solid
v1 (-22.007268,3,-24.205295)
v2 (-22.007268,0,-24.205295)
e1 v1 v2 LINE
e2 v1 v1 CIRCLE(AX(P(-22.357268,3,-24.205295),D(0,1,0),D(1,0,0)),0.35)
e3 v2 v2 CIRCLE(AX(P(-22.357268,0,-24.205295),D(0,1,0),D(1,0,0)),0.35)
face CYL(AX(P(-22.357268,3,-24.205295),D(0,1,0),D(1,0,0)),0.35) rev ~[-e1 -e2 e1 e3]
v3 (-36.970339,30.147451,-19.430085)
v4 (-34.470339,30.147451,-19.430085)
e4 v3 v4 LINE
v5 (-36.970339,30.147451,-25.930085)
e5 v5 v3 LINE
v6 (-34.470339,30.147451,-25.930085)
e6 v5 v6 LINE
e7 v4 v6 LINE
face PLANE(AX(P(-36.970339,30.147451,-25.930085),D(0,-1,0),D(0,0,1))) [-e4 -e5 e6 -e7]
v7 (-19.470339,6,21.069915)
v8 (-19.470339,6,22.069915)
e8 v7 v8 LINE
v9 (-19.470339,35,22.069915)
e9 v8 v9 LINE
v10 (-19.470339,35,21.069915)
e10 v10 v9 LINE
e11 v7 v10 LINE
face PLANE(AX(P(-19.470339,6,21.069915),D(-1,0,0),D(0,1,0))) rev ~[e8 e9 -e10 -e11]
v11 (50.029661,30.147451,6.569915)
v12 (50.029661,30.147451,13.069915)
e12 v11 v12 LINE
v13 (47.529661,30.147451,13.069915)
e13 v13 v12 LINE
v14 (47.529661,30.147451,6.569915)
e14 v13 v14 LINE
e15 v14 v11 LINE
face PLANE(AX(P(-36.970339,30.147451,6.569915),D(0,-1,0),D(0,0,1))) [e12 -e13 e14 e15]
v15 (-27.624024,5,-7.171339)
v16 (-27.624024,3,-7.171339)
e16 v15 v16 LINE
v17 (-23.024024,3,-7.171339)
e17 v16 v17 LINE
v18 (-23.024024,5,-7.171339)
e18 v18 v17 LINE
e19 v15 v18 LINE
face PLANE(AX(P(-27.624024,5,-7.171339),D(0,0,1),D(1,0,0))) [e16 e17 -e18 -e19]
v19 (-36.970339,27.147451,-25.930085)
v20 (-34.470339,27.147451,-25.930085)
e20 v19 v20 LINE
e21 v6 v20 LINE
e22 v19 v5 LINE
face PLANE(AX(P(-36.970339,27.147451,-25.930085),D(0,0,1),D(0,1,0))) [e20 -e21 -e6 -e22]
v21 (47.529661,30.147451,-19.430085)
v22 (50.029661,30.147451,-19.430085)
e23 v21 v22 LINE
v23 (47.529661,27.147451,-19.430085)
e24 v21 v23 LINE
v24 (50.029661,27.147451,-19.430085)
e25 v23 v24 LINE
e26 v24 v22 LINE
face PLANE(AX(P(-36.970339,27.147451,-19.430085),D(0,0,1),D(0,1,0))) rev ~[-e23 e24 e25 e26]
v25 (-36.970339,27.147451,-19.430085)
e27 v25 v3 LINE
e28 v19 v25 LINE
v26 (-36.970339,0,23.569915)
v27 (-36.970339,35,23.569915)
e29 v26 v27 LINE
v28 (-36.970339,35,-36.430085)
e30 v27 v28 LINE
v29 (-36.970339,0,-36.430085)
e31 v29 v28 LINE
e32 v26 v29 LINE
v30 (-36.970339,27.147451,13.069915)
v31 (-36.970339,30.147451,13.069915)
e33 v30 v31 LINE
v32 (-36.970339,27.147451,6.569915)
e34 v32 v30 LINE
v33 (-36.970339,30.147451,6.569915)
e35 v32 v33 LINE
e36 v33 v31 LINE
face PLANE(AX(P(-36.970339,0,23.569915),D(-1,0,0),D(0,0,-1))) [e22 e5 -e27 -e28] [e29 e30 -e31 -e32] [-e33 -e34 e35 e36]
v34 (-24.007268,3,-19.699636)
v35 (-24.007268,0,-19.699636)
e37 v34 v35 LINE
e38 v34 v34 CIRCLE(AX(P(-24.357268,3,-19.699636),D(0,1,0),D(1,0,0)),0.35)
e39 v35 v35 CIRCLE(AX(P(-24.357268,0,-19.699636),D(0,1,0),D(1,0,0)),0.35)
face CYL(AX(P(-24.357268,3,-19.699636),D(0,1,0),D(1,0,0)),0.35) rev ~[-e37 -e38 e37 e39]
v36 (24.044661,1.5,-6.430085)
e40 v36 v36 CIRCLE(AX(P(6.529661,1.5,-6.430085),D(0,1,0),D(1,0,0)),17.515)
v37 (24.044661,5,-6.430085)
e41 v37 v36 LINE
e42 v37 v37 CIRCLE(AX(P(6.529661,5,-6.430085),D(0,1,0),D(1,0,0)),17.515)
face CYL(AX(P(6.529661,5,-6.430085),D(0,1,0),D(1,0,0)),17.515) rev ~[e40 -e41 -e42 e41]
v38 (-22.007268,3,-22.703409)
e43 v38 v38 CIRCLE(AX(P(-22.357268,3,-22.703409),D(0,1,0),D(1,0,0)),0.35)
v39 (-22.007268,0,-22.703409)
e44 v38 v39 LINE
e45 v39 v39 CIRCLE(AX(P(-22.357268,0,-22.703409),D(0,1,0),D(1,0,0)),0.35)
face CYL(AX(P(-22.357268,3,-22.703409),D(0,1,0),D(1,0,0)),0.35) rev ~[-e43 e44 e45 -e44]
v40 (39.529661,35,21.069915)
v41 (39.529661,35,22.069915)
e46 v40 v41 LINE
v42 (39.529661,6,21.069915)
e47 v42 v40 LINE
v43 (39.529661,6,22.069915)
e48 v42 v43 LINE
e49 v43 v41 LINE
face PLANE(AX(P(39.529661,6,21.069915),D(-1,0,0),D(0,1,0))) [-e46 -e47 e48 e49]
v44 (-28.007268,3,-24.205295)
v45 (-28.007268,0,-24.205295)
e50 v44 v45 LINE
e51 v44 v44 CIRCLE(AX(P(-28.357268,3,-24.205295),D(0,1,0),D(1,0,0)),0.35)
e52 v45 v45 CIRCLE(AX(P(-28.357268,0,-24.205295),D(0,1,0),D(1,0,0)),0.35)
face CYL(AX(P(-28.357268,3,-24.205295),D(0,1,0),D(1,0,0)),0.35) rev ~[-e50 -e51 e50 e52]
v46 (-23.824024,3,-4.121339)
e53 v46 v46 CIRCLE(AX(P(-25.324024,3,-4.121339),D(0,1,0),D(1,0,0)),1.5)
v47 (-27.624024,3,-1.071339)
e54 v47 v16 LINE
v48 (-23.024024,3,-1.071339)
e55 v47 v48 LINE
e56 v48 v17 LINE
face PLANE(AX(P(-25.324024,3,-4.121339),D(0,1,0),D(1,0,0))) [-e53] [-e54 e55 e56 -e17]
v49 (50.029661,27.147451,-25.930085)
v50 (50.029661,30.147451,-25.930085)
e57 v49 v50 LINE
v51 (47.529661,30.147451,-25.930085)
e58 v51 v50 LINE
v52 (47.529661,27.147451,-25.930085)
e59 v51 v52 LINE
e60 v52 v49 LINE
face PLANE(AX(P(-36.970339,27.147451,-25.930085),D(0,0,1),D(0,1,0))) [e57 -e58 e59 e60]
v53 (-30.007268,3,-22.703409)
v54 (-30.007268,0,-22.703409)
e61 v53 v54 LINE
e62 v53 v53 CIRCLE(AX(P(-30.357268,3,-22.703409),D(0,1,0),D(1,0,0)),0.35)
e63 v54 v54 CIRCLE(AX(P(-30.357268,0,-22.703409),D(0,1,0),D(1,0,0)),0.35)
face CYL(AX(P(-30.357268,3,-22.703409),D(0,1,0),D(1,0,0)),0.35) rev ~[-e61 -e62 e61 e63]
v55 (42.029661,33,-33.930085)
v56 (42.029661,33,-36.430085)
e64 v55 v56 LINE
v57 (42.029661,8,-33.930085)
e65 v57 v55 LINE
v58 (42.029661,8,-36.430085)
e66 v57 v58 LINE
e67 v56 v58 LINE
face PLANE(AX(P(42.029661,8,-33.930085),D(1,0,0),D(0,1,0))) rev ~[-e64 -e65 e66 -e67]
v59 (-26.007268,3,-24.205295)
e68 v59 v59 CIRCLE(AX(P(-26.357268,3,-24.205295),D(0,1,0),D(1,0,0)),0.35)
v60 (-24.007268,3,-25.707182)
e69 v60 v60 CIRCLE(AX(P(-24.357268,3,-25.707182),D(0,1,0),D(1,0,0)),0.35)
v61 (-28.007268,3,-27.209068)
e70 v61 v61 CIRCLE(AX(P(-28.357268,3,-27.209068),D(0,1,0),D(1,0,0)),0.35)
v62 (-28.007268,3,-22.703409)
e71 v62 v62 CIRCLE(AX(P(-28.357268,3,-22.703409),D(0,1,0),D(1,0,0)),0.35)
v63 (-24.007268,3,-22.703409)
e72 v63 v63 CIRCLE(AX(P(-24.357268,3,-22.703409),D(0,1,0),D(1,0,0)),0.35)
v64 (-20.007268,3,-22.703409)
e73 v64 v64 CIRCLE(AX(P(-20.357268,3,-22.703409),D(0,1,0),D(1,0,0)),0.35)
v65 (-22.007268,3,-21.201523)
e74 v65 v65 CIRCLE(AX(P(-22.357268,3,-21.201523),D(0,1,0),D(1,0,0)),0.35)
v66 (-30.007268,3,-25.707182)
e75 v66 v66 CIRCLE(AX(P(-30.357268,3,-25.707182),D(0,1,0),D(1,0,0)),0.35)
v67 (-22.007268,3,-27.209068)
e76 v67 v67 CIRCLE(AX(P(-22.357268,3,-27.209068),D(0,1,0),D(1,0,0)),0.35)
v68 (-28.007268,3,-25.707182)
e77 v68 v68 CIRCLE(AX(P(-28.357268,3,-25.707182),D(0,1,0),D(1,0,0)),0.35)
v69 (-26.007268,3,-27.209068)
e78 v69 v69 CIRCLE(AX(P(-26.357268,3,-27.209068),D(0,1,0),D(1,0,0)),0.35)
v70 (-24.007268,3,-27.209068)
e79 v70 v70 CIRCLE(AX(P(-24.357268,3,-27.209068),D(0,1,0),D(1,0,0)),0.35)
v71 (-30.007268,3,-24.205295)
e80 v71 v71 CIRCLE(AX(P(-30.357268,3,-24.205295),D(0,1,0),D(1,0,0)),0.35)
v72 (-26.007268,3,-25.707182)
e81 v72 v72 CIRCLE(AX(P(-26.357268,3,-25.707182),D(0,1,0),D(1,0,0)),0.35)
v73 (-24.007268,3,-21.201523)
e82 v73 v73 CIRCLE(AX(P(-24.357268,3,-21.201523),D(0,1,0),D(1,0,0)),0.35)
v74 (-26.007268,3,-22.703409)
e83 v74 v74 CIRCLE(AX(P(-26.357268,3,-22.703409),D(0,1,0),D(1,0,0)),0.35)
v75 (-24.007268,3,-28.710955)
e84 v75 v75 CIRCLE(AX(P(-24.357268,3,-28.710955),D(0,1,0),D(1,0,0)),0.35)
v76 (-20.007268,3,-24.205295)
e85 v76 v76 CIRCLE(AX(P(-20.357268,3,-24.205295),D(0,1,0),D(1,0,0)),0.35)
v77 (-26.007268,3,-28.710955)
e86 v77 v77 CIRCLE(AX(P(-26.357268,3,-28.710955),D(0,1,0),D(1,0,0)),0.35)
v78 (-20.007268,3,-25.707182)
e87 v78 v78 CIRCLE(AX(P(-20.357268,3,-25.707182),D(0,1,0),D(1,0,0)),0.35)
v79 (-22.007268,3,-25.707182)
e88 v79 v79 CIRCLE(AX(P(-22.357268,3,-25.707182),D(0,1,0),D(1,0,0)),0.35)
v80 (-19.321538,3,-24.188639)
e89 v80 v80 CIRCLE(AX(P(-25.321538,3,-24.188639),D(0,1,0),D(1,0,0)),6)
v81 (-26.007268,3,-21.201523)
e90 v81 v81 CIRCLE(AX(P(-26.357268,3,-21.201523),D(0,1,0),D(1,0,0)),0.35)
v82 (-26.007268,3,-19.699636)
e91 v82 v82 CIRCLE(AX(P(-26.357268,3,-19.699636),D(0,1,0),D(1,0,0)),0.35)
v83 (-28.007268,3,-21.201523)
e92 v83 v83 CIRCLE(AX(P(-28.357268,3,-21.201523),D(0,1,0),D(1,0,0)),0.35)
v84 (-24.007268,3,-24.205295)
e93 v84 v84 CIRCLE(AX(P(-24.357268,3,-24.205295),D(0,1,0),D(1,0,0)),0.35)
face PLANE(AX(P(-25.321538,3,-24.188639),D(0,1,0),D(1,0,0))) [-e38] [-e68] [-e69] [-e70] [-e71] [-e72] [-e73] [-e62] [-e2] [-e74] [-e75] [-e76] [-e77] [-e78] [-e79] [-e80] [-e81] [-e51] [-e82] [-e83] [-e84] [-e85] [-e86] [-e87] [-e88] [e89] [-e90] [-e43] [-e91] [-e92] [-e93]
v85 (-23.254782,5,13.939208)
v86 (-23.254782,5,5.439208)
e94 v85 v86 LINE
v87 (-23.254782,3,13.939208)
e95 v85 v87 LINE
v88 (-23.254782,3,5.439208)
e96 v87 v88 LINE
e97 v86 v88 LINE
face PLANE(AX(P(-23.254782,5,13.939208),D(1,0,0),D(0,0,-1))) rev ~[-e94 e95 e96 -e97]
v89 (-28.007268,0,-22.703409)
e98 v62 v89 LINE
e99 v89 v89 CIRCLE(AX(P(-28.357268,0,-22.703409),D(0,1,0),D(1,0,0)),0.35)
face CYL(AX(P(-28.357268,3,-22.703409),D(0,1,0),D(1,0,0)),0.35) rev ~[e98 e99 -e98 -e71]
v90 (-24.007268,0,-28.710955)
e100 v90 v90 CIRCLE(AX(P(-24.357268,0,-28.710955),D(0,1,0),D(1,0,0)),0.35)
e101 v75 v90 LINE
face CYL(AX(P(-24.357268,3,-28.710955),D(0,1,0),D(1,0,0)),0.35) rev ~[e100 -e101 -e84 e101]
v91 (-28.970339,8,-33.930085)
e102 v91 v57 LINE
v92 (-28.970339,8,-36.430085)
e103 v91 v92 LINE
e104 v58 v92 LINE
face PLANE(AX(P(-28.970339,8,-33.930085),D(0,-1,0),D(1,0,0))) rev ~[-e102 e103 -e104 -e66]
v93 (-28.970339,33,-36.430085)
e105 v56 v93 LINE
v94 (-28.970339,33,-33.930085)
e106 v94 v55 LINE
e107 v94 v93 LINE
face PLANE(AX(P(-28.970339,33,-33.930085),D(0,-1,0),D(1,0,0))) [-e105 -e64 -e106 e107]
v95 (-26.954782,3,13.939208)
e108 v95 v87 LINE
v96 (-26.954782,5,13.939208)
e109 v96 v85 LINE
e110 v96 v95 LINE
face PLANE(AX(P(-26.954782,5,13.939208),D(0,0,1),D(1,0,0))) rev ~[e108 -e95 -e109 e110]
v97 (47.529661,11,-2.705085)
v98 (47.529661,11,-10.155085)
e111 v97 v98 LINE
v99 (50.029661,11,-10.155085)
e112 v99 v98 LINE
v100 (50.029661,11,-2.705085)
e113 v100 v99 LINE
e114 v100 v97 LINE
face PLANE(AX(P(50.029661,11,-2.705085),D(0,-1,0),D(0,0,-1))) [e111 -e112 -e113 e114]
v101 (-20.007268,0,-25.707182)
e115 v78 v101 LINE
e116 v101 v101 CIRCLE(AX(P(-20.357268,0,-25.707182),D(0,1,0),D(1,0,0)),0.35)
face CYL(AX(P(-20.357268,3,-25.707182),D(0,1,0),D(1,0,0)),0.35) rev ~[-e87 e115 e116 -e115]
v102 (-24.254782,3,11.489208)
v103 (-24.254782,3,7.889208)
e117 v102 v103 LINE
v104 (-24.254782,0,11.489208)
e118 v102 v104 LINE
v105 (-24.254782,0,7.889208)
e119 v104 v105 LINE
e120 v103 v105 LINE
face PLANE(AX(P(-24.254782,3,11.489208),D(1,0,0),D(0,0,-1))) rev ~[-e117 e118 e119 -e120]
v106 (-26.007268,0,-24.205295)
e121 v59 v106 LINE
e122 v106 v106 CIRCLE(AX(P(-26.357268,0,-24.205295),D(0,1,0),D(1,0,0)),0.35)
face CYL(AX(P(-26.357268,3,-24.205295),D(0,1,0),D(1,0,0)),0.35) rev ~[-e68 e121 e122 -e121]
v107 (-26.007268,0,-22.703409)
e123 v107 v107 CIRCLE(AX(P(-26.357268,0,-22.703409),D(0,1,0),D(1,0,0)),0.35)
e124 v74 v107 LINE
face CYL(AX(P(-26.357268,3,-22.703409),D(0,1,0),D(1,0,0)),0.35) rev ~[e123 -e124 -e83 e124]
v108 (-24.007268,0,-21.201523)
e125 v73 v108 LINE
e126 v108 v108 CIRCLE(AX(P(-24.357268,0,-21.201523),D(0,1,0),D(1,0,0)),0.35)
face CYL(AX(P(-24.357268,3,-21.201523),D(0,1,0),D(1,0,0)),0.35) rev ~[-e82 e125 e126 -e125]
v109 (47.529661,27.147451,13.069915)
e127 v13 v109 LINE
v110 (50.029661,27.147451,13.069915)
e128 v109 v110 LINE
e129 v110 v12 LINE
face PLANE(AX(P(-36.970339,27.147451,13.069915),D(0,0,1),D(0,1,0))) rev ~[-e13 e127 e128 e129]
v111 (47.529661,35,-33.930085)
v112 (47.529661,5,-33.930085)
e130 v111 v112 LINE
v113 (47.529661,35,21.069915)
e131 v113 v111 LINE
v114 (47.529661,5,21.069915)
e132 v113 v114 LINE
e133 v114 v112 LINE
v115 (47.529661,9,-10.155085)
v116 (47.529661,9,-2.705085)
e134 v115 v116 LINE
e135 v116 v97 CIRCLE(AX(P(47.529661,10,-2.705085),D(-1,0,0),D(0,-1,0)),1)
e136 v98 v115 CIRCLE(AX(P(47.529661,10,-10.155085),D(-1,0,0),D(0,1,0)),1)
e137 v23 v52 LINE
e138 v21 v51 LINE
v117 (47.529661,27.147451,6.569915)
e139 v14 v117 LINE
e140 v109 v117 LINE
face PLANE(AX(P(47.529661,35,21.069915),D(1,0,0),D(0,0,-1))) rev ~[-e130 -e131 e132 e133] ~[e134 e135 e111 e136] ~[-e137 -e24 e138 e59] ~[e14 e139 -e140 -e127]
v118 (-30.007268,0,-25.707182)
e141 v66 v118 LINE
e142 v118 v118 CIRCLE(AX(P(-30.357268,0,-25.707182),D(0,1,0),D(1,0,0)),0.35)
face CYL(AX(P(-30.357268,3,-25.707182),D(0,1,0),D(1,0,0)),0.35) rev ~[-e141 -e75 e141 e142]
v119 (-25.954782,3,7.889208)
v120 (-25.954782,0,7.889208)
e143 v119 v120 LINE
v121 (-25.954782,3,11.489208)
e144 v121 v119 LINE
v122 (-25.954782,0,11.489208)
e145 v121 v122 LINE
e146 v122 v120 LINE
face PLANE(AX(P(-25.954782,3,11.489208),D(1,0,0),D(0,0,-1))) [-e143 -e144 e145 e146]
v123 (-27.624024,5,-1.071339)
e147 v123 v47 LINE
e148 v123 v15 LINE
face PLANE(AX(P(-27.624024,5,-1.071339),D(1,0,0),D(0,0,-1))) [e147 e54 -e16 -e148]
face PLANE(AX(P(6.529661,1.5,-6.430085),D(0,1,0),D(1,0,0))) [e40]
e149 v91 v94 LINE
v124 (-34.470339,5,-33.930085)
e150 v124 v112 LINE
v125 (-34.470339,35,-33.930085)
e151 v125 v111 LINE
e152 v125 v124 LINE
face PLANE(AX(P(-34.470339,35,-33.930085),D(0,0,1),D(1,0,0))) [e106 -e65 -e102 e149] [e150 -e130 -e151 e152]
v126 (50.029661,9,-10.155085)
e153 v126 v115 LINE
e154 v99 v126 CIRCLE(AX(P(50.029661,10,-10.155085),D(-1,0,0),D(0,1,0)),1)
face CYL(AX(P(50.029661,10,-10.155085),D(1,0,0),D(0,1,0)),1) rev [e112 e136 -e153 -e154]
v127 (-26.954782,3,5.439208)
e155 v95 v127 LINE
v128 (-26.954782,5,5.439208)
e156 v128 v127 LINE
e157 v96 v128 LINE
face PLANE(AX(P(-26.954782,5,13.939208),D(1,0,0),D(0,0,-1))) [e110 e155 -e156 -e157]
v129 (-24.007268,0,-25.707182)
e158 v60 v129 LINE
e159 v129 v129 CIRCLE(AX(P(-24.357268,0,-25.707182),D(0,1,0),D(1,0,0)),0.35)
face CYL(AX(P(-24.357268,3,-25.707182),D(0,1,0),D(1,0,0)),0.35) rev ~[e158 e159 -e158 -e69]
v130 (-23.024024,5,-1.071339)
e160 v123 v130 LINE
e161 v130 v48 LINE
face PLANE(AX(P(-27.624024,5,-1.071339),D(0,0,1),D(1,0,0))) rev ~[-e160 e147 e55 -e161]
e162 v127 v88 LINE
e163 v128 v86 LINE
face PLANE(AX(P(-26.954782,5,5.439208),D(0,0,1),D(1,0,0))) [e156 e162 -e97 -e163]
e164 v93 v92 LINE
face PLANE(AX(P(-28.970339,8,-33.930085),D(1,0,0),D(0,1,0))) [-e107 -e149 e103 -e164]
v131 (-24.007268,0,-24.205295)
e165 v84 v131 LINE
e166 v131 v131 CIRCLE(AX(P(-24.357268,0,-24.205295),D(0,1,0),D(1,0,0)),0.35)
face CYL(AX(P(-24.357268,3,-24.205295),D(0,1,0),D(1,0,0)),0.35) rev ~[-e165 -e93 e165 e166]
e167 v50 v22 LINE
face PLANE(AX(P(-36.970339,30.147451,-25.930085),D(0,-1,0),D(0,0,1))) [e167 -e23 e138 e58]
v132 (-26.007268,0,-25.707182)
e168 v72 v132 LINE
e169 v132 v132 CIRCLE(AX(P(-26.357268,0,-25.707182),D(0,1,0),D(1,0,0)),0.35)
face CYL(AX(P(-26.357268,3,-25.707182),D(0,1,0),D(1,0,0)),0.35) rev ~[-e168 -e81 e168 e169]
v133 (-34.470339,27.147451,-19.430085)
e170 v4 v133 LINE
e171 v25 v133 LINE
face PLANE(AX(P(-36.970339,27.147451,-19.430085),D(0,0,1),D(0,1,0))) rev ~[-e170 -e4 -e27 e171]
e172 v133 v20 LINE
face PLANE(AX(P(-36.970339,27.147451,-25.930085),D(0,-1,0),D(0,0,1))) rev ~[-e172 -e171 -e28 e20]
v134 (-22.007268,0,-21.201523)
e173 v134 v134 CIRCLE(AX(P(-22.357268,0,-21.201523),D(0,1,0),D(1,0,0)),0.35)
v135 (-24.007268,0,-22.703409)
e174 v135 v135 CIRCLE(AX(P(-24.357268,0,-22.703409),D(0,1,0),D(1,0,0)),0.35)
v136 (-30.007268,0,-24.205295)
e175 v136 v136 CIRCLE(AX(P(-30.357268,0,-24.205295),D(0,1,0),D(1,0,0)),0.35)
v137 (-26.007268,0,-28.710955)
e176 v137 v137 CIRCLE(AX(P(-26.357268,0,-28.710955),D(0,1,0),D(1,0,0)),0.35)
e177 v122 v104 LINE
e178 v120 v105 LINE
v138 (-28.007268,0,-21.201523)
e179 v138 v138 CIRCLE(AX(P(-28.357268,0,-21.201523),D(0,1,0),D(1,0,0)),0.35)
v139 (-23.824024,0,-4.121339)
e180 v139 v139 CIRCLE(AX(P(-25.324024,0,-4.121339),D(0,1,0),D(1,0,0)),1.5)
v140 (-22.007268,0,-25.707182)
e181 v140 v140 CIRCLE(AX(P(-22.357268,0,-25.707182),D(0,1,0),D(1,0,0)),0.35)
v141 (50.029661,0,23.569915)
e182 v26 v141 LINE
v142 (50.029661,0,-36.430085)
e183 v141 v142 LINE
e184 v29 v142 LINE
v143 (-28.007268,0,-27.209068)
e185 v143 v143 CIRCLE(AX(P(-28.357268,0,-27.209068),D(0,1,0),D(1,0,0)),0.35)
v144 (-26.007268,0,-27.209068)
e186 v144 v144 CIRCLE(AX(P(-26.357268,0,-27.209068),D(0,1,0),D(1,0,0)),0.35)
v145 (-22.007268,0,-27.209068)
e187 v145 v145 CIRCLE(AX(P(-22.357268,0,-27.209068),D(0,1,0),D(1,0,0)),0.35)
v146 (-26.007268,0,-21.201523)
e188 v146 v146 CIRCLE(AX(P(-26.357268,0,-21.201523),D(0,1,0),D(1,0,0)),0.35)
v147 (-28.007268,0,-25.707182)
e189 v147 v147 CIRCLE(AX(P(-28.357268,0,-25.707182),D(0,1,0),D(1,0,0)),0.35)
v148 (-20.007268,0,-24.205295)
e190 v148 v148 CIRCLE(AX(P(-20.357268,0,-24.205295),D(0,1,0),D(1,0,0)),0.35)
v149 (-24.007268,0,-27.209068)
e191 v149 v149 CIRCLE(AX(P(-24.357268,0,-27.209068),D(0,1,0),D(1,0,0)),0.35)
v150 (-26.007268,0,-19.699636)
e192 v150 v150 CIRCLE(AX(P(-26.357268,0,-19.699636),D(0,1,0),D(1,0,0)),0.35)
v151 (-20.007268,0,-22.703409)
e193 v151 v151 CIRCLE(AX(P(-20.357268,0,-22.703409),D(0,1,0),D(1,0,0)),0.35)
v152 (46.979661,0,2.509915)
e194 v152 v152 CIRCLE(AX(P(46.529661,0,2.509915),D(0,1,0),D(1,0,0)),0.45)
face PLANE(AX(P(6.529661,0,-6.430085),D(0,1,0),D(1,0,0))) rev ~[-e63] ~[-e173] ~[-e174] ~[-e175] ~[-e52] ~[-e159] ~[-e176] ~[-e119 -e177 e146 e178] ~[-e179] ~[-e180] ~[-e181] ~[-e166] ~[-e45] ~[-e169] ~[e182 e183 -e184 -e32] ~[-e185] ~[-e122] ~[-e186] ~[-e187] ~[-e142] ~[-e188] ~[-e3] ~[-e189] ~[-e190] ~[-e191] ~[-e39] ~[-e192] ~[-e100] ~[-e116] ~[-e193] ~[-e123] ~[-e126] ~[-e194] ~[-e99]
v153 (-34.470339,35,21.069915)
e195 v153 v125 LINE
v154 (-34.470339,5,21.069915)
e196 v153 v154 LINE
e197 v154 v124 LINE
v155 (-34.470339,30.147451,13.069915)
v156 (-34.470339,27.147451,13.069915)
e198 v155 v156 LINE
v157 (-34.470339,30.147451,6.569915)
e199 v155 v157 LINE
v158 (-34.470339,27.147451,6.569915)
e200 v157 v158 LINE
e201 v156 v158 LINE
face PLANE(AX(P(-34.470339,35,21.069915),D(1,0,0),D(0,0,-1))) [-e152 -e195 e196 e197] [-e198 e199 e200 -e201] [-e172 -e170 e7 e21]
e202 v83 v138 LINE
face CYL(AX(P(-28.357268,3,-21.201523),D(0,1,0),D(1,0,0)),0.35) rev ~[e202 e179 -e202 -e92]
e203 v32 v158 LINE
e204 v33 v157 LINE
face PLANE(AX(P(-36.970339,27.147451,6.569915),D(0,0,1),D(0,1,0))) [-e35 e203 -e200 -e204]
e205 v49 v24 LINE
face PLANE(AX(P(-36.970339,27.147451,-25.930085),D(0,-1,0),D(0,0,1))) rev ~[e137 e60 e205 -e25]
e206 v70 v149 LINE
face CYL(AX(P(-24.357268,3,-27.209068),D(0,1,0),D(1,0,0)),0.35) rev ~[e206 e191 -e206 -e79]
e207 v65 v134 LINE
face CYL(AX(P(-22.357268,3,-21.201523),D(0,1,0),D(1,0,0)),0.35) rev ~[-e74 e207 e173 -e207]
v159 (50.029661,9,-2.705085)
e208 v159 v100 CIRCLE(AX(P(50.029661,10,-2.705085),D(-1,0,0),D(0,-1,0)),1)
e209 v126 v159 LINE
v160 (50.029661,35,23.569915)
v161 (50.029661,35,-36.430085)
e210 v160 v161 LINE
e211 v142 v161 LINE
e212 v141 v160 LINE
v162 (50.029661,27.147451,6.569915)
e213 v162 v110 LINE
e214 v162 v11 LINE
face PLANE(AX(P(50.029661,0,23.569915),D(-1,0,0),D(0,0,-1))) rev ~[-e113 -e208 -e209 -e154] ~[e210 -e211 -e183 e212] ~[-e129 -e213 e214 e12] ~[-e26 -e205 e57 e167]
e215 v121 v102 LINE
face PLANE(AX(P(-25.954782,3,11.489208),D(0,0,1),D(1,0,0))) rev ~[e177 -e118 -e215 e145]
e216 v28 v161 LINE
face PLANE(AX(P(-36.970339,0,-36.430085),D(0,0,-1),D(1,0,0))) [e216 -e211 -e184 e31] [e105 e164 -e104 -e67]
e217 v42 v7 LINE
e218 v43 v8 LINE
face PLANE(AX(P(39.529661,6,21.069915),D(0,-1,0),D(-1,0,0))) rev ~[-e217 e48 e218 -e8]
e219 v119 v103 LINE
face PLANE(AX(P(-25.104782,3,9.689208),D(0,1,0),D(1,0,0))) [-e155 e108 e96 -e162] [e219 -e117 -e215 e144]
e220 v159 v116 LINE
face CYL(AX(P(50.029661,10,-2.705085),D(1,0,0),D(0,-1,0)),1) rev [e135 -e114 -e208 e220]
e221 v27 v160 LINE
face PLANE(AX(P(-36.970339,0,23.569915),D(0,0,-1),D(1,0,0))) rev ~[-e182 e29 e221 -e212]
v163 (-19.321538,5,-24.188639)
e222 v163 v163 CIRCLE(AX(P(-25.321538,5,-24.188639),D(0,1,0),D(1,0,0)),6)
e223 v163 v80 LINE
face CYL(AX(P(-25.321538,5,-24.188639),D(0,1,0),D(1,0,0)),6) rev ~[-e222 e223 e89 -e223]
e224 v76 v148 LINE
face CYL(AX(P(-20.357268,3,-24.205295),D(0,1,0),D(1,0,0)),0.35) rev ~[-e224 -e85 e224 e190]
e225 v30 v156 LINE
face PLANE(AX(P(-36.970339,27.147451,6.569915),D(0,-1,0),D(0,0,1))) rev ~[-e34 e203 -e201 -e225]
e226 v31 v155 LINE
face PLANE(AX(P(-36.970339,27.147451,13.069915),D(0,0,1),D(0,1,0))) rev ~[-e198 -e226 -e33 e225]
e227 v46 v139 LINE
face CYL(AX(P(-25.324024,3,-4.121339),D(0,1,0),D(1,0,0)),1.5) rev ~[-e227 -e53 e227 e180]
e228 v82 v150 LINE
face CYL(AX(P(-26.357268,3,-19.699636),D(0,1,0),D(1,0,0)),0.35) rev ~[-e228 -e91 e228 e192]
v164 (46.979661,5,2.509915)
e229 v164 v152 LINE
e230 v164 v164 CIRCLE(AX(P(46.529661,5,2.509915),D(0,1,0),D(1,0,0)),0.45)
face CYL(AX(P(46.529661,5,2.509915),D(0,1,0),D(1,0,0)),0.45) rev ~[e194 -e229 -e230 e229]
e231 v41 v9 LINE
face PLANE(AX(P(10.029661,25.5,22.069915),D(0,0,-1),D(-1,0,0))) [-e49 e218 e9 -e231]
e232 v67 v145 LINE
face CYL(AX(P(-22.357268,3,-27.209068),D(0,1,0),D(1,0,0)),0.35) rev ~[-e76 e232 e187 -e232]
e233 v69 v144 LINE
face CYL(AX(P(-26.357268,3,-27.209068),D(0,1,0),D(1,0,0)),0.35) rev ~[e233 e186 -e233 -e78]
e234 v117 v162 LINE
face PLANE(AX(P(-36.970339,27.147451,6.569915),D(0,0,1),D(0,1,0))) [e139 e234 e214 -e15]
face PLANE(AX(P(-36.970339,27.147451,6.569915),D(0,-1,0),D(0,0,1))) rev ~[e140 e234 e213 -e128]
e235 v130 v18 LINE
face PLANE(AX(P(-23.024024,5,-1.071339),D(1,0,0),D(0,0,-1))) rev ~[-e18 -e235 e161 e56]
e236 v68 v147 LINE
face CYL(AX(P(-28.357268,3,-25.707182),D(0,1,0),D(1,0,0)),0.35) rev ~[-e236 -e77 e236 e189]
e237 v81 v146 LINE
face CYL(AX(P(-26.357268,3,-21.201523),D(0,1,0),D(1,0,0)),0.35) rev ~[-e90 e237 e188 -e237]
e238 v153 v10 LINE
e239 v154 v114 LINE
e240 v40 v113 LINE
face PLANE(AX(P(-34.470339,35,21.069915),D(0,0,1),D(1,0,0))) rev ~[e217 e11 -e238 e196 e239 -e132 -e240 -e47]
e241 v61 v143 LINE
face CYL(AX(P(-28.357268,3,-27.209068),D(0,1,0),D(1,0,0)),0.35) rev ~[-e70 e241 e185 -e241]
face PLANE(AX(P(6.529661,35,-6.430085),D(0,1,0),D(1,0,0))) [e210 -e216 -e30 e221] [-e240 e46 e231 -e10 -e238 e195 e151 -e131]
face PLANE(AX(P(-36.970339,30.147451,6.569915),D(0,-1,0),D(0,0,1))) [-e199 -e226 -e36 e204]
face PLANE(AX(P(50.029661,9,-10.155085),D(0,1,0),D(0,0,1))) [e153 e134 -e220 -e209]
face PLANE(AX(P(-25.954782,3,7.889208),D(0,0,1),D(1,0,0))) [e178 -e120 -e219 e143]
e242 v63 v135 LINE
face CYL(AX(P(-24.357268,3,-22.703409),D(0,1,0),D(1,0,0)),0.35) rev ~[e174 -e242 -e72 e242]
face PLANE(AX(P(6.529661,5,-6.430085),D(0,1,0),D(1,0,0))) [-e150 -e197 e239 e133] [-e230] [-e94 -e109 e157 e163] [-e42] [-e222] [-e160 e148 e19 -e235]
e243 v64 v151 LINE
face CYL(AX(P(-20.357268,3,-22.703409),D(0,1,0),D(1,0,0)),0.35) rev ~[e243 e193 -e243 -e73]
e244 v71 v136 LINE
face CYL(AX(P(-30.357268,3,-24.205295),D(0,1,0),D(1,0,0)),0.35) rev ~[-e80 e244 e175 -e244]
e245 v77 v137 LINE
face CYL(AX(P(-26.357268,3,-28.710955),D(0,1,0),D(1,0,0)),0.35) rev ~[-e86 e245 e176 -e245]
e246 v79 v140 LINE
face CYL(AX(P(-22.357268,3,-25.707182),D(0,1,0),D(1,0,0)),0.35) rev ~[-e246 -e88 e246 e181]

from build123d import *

# Parameters (mm, degrees)
SKETCH1_W               = 87
SKETCH1_H               = 60
HOUSING_DEPTH           = 35
SKETCH4_W               = 82
SKETCH4_H               = 55
HOUSEINTERNALCUT_DEPTH  = 30
SKETCH6_W               = 3.7
SKETCH6_H               = 8.5
SWITCHEXTERNALCUT_DEPTH = 2
SKETCH8_W               = 1.7
SKETCH8_H               = 3.6
SWITCHINTERNALCUT_DEPTH = 4
SKETCH10_R              = 6
BUZZEREXTERNALCUT_DEPTH = 2
SKETCH12_R              = 0.35
BUZZERINTERNALCUT_DEPTH = 4
SKETCH14_W              = 4.6
SKETCH14_H              = 6.1
BUTTONEXTERNALCUT_DEPTH = 2
SKETCH16_R              = 1.5
BUTTONINTERNALCUT_DEPTH = 4
SKETCH29_R              = 17.515
WICHARGECUT_DEPTH       = 3.5
SKETCH30_W              = 59
SKETCH30_H              = 39
RFIDMODULECUT_DEPTH     = 1
SKETCH32_W              = 71
SKETCH32_H              = 25
DISPLAYCUT_DEPTH        = 3.5
MICROUSBCUT_DEPTH       = 2.5
SKETCH34_W              = 6.5
SKETCH34_H              = 3
CLIPSCUT_DEPTH          = 88
SKETCH35_R              = 0.45
RESETCUT_DEPTH          = 6


with BuildPart() as part:
    # Sketch1 → Housing (new body)
    with BuildSketch(Plane(origin=(0, 0, 0), x_dir=(1, 0, 0), z_dir=(0, 1, 0))):
        with Locations((6.529661017, 6.430084746)):
            Rectangle(SKETCH1_W, SKETCH1_H)
    extrude(amount=HOUSING_DEPTH)

    # Sketch4 → HouseInternalCut (cut)
    with BuildSketch(Plane(origin=(0, 35, 0), x_dir=(1, 0, 0), z_dir=(0, 1, 0))):
        with Locations((6.529661017, 6.430084746)):
            Rectangle(SKETCH4_W, SKETCH4_H)
    extrude(amount=-HOUSEINTERNALCUT_DEPTH, mode=Mode.SUBTRACT)

    # Sketch6 → SwitchExternalCut (cut)
    with BuildSketch(Plane(origin=(-29.459679841, 5, 17.678662656), x_dir=(1, 0, 0), z_dir=(0, 1, 0))):
        with Locations((4.354897879, 7.989454328)):
            Rectangle(SKETCH6_W, SKETCH6_H)
    extrude(amount=-SWITCHEXTERNALCUT_DEPTH, mode=Mode.SUBTRACT)

    # Sketch8 → SwitchInternalCut (cut, through all)
    with BuildSketch(Plane(origin=(-29.459679841, 3, 17.678662656), x_dir=(1, 0, 0), z_dir=(0, 1, 0))):
        with Locations((4.354897879, 7.989454328)):
            Rectangle(SKETCH8_W, SKETCH8_H)
    extrude(amount=-SWITCHINTERNALCUT_DEPTH, mode=Mode.SUBTRACT)

    # Sketch10 → BuzzerExternalCut (cut)
    with BuildSketch(Plane(origin=(-0.314920006, 5, -24.188639302), x_dir=(1, 0, 0), z_dir=(0, 1, 0))):
        with Locations((-25.006618322, 0)):
            Circle(SKETCH10_R)
    extrude(amount=-BUZZEREXTERNALCUT_DEPTH, mode=Mode.SUBTRACT)

    # Sketch12 → BuzzerInternalCut (cut, through all)
    with BuildSketch(Plane(origin=(-0.314920006, 3, -24.188639302), x_dir=(1, 0, 0), z_dir=(0, 1, 0))):
        with Locations((-24.042348329, 4.522315504)):
            Circle(SKETCH12_R)
        with Locations((-26.042348329, 3.020429056)):
            Circle(SKETCH12_R)
        with Locations((-28.042348329, 3.020429056)):
            Circle(SKETCH12_R)
        with Locations((-30.042348329, 1.518542609)):
            Circle(SKETCH12_R)
        with Locations((-30.042348329, 0.016656161)):
            Circle(SKETCH12_R)
        with Locations((-30.042348329, -1.485230286)):
            Circle(SKETCH12_R)
        with Locations((-28.042348329, 0.016656161)):
            Circle(SKETCH12_R)
        with Locations((-28.042348329, 1.518542609)):
            Circle(SKETCH12_R)
        with Locations((-28.042348329, -1.485230286)):
            Circle(SKETCH12_R)
        with Locations((-28.042348329, -2.987116733)):
            Circle(SKETCH12_R)
        with Locations((-26.042348329, 0.016656161)):
            Circle(SKETCH12_R)
        with Locations((-26.042348329, 1.518542609)):
            Circle(SKETCH12_R)
        with Locations((-26.042348329, -1.485230286)):
            Circle(SKETCH12_R)
        with Locations((-26.042348329, -2.987116733)):
            Circle(SKETCH12_R)
        with Locations((-26.042348329, -4.489003181)):
            Circle(SKETCH12_R)
        with Locations((-24.042348329, -4.489003181)):
            Circle(SKETCH12_R)
        with Locations((-24.042348329, -2.987116733)):
            Circle(SKETCH12_R)
        with Locations((-24.042348329, -1.485230286)):
            Circle(SKETCH12_R)
        with Locations((-24.042348329, 0.016656161)):
            Circle(SKETCH12_R)
        with Locations((-24.042348329, 1.518542609)):
            Circle(SKETCH12_R)
        with Locations((-24.042348329, 3.020429056)):
            Circle(SKETCH12_R)
        with Locations((-22.042348329, 3.020429056)):
            Circle(SKETCH12_R)
        with Locations((-22.042348329, 1.518542609)):
            Circle(SKETCH12_R)
        with Locations((-22.042348329, 0.016656161)):
            Circle(SKETCH12_R)
        with Locations((-22.042348329, -1.485230286)):
            Circle(SKETCH12_R)
        with Locations((-22.042348329, -2.987116733)):
            Circle(SKETCH12_R)
        with Locations((-20.042348329, -1.485230286)):
            Circle(SKETCH12_R)
        with Locations((-20.042348329, 0.016656161)):
            Circle(SKETCH12_R)
        with Locations((-20.042348329, 1.518542609)):
            Circle(SKETCH12_R)
        with Locations((-26.042348329, 4.522315504)):
            Circle(SKETCH12_R)
    extrude(amount=-BUZZERINTERNALCUT_DEPTH, mode=Mode.SUBTRACT)

    # Sketch14 → ButtonExternalCut (cut)
    with BuildSketch(Plane(origin=(-24.227687265, 5, -14.72402786), x_dir=(1, 0, 0), z_dir=(0, 1, 0))):
        with Locations((-1.096336387, -10.602688636)):
            Rectangle(SKETCH14_W, SKETCH14_H)
    extrude(amount=-BUTTONEXTERNALCUT_DEPTH, mode=Mode.SUBTRACT)

    # Sketch16 → ButtonInternalCut (cut, through all)
    with BuildSketch(Plane(origin=(-24.227687265, 3, -14.72402786), x_dir=(1, 0, 0), z_dir=(0, 1, 0))):
        with Locations((-1.096336387, -10.602688636)):
            Circle(SKETCH16_R)
    extrude(amount=-BUTTONINTERNALCUT_DEPTH, mode=Mode.SUBTRACT)

    # Sketch29 → WiChargeCut (cut)
    with BuildSketch(Plane(origin=(0, 5, 0), x_dir=(1, 0, 0), z_dir=(0, 1, 0))):
        with Locations((6.529661017, 6.430084746)):
            Circle(SKETCH29_R)
    extrude(amount=-WICHARGECUT_DEPTH, mode=Mode.SUBTRACT)

    # Sketch30 → RFIDModuleCut (cut)
    with BuildSketch(Plane(origin=(0, 0, 21.069915254), x_dir=(-1, 0, 0), z_dir=(0, 0, -1))):
        with Locations((-10.029661017, 25.5)):
            Rectangle(SKETCH30_W, SKETCH30_H)
    extrude(amount=-RFIDMODULECUT_DEPTH, mode=Mode.SUBTRACT)

    # Sketch32 → DisplayCut (cut, through all)
    with BuildSketch(Plane.XY.offset(-33.930084746)):
        with Locations((6.529661017, 20.5)):
            Rectangle(SKETCH32_W, SKETCH32_H)
    extrude(amount=-DISPLAYCUT_DEPTH, mode=Mode.SUBTRACT)

    # Sketch33 → MicroUSBCut (cut)
    with BuildSketch(Plane(origin=(50.029661017, 0, 0), x_dir=(0, 0, -1), z_dir=(1, 0, 0))):
        with BuildLine():
            Line((2.705084746, 11), (10.155084746, 11))
            ThreePointArc((10.155084746, 11), (11.155084746, 10), (10.155084746, 9))
            Line((10.155084746, 9), (2.705084746, 9))
            ThreePointArc((2.705084746, 9), (1.705084746, 10), (2.705084746, 11))
        make_face()
    extrude(amount=-MICROUSBCUT_DEPTH, mode=Mode.SUBTRACT)

    # Sketch34 → ClipsCut (cut, through all)
    with BuildSketch(Plane.ZY.offset(36.970338983)):
        with Locations((-22.680084746, 28.64745115)):
            Rectangle(SKETCH34_W, SKETCH34_H)
        with Locations((9.819915254, 28.64745115)):
            Rectangle(SKETCH34_W, SKETCH34_H)
    extrude(amount=-CLIPSCUT_DEPTH, mode=Mode.SUBTRACT)

    # Sketch35 → ResetCut (cut, through all)
    with BuildSketch(Plane(origin=(0, 5, 0), x_dir=(1, 0, 0), z_dir=(0, 1, 0))):
        with Locations((46.529661017, -2.509915254)):
            Circle(SKETCH35_R)
    extrude(amount=-RESETCUT_DEPTH, mode=Mode.SUBTRACT)


solid = part.part
